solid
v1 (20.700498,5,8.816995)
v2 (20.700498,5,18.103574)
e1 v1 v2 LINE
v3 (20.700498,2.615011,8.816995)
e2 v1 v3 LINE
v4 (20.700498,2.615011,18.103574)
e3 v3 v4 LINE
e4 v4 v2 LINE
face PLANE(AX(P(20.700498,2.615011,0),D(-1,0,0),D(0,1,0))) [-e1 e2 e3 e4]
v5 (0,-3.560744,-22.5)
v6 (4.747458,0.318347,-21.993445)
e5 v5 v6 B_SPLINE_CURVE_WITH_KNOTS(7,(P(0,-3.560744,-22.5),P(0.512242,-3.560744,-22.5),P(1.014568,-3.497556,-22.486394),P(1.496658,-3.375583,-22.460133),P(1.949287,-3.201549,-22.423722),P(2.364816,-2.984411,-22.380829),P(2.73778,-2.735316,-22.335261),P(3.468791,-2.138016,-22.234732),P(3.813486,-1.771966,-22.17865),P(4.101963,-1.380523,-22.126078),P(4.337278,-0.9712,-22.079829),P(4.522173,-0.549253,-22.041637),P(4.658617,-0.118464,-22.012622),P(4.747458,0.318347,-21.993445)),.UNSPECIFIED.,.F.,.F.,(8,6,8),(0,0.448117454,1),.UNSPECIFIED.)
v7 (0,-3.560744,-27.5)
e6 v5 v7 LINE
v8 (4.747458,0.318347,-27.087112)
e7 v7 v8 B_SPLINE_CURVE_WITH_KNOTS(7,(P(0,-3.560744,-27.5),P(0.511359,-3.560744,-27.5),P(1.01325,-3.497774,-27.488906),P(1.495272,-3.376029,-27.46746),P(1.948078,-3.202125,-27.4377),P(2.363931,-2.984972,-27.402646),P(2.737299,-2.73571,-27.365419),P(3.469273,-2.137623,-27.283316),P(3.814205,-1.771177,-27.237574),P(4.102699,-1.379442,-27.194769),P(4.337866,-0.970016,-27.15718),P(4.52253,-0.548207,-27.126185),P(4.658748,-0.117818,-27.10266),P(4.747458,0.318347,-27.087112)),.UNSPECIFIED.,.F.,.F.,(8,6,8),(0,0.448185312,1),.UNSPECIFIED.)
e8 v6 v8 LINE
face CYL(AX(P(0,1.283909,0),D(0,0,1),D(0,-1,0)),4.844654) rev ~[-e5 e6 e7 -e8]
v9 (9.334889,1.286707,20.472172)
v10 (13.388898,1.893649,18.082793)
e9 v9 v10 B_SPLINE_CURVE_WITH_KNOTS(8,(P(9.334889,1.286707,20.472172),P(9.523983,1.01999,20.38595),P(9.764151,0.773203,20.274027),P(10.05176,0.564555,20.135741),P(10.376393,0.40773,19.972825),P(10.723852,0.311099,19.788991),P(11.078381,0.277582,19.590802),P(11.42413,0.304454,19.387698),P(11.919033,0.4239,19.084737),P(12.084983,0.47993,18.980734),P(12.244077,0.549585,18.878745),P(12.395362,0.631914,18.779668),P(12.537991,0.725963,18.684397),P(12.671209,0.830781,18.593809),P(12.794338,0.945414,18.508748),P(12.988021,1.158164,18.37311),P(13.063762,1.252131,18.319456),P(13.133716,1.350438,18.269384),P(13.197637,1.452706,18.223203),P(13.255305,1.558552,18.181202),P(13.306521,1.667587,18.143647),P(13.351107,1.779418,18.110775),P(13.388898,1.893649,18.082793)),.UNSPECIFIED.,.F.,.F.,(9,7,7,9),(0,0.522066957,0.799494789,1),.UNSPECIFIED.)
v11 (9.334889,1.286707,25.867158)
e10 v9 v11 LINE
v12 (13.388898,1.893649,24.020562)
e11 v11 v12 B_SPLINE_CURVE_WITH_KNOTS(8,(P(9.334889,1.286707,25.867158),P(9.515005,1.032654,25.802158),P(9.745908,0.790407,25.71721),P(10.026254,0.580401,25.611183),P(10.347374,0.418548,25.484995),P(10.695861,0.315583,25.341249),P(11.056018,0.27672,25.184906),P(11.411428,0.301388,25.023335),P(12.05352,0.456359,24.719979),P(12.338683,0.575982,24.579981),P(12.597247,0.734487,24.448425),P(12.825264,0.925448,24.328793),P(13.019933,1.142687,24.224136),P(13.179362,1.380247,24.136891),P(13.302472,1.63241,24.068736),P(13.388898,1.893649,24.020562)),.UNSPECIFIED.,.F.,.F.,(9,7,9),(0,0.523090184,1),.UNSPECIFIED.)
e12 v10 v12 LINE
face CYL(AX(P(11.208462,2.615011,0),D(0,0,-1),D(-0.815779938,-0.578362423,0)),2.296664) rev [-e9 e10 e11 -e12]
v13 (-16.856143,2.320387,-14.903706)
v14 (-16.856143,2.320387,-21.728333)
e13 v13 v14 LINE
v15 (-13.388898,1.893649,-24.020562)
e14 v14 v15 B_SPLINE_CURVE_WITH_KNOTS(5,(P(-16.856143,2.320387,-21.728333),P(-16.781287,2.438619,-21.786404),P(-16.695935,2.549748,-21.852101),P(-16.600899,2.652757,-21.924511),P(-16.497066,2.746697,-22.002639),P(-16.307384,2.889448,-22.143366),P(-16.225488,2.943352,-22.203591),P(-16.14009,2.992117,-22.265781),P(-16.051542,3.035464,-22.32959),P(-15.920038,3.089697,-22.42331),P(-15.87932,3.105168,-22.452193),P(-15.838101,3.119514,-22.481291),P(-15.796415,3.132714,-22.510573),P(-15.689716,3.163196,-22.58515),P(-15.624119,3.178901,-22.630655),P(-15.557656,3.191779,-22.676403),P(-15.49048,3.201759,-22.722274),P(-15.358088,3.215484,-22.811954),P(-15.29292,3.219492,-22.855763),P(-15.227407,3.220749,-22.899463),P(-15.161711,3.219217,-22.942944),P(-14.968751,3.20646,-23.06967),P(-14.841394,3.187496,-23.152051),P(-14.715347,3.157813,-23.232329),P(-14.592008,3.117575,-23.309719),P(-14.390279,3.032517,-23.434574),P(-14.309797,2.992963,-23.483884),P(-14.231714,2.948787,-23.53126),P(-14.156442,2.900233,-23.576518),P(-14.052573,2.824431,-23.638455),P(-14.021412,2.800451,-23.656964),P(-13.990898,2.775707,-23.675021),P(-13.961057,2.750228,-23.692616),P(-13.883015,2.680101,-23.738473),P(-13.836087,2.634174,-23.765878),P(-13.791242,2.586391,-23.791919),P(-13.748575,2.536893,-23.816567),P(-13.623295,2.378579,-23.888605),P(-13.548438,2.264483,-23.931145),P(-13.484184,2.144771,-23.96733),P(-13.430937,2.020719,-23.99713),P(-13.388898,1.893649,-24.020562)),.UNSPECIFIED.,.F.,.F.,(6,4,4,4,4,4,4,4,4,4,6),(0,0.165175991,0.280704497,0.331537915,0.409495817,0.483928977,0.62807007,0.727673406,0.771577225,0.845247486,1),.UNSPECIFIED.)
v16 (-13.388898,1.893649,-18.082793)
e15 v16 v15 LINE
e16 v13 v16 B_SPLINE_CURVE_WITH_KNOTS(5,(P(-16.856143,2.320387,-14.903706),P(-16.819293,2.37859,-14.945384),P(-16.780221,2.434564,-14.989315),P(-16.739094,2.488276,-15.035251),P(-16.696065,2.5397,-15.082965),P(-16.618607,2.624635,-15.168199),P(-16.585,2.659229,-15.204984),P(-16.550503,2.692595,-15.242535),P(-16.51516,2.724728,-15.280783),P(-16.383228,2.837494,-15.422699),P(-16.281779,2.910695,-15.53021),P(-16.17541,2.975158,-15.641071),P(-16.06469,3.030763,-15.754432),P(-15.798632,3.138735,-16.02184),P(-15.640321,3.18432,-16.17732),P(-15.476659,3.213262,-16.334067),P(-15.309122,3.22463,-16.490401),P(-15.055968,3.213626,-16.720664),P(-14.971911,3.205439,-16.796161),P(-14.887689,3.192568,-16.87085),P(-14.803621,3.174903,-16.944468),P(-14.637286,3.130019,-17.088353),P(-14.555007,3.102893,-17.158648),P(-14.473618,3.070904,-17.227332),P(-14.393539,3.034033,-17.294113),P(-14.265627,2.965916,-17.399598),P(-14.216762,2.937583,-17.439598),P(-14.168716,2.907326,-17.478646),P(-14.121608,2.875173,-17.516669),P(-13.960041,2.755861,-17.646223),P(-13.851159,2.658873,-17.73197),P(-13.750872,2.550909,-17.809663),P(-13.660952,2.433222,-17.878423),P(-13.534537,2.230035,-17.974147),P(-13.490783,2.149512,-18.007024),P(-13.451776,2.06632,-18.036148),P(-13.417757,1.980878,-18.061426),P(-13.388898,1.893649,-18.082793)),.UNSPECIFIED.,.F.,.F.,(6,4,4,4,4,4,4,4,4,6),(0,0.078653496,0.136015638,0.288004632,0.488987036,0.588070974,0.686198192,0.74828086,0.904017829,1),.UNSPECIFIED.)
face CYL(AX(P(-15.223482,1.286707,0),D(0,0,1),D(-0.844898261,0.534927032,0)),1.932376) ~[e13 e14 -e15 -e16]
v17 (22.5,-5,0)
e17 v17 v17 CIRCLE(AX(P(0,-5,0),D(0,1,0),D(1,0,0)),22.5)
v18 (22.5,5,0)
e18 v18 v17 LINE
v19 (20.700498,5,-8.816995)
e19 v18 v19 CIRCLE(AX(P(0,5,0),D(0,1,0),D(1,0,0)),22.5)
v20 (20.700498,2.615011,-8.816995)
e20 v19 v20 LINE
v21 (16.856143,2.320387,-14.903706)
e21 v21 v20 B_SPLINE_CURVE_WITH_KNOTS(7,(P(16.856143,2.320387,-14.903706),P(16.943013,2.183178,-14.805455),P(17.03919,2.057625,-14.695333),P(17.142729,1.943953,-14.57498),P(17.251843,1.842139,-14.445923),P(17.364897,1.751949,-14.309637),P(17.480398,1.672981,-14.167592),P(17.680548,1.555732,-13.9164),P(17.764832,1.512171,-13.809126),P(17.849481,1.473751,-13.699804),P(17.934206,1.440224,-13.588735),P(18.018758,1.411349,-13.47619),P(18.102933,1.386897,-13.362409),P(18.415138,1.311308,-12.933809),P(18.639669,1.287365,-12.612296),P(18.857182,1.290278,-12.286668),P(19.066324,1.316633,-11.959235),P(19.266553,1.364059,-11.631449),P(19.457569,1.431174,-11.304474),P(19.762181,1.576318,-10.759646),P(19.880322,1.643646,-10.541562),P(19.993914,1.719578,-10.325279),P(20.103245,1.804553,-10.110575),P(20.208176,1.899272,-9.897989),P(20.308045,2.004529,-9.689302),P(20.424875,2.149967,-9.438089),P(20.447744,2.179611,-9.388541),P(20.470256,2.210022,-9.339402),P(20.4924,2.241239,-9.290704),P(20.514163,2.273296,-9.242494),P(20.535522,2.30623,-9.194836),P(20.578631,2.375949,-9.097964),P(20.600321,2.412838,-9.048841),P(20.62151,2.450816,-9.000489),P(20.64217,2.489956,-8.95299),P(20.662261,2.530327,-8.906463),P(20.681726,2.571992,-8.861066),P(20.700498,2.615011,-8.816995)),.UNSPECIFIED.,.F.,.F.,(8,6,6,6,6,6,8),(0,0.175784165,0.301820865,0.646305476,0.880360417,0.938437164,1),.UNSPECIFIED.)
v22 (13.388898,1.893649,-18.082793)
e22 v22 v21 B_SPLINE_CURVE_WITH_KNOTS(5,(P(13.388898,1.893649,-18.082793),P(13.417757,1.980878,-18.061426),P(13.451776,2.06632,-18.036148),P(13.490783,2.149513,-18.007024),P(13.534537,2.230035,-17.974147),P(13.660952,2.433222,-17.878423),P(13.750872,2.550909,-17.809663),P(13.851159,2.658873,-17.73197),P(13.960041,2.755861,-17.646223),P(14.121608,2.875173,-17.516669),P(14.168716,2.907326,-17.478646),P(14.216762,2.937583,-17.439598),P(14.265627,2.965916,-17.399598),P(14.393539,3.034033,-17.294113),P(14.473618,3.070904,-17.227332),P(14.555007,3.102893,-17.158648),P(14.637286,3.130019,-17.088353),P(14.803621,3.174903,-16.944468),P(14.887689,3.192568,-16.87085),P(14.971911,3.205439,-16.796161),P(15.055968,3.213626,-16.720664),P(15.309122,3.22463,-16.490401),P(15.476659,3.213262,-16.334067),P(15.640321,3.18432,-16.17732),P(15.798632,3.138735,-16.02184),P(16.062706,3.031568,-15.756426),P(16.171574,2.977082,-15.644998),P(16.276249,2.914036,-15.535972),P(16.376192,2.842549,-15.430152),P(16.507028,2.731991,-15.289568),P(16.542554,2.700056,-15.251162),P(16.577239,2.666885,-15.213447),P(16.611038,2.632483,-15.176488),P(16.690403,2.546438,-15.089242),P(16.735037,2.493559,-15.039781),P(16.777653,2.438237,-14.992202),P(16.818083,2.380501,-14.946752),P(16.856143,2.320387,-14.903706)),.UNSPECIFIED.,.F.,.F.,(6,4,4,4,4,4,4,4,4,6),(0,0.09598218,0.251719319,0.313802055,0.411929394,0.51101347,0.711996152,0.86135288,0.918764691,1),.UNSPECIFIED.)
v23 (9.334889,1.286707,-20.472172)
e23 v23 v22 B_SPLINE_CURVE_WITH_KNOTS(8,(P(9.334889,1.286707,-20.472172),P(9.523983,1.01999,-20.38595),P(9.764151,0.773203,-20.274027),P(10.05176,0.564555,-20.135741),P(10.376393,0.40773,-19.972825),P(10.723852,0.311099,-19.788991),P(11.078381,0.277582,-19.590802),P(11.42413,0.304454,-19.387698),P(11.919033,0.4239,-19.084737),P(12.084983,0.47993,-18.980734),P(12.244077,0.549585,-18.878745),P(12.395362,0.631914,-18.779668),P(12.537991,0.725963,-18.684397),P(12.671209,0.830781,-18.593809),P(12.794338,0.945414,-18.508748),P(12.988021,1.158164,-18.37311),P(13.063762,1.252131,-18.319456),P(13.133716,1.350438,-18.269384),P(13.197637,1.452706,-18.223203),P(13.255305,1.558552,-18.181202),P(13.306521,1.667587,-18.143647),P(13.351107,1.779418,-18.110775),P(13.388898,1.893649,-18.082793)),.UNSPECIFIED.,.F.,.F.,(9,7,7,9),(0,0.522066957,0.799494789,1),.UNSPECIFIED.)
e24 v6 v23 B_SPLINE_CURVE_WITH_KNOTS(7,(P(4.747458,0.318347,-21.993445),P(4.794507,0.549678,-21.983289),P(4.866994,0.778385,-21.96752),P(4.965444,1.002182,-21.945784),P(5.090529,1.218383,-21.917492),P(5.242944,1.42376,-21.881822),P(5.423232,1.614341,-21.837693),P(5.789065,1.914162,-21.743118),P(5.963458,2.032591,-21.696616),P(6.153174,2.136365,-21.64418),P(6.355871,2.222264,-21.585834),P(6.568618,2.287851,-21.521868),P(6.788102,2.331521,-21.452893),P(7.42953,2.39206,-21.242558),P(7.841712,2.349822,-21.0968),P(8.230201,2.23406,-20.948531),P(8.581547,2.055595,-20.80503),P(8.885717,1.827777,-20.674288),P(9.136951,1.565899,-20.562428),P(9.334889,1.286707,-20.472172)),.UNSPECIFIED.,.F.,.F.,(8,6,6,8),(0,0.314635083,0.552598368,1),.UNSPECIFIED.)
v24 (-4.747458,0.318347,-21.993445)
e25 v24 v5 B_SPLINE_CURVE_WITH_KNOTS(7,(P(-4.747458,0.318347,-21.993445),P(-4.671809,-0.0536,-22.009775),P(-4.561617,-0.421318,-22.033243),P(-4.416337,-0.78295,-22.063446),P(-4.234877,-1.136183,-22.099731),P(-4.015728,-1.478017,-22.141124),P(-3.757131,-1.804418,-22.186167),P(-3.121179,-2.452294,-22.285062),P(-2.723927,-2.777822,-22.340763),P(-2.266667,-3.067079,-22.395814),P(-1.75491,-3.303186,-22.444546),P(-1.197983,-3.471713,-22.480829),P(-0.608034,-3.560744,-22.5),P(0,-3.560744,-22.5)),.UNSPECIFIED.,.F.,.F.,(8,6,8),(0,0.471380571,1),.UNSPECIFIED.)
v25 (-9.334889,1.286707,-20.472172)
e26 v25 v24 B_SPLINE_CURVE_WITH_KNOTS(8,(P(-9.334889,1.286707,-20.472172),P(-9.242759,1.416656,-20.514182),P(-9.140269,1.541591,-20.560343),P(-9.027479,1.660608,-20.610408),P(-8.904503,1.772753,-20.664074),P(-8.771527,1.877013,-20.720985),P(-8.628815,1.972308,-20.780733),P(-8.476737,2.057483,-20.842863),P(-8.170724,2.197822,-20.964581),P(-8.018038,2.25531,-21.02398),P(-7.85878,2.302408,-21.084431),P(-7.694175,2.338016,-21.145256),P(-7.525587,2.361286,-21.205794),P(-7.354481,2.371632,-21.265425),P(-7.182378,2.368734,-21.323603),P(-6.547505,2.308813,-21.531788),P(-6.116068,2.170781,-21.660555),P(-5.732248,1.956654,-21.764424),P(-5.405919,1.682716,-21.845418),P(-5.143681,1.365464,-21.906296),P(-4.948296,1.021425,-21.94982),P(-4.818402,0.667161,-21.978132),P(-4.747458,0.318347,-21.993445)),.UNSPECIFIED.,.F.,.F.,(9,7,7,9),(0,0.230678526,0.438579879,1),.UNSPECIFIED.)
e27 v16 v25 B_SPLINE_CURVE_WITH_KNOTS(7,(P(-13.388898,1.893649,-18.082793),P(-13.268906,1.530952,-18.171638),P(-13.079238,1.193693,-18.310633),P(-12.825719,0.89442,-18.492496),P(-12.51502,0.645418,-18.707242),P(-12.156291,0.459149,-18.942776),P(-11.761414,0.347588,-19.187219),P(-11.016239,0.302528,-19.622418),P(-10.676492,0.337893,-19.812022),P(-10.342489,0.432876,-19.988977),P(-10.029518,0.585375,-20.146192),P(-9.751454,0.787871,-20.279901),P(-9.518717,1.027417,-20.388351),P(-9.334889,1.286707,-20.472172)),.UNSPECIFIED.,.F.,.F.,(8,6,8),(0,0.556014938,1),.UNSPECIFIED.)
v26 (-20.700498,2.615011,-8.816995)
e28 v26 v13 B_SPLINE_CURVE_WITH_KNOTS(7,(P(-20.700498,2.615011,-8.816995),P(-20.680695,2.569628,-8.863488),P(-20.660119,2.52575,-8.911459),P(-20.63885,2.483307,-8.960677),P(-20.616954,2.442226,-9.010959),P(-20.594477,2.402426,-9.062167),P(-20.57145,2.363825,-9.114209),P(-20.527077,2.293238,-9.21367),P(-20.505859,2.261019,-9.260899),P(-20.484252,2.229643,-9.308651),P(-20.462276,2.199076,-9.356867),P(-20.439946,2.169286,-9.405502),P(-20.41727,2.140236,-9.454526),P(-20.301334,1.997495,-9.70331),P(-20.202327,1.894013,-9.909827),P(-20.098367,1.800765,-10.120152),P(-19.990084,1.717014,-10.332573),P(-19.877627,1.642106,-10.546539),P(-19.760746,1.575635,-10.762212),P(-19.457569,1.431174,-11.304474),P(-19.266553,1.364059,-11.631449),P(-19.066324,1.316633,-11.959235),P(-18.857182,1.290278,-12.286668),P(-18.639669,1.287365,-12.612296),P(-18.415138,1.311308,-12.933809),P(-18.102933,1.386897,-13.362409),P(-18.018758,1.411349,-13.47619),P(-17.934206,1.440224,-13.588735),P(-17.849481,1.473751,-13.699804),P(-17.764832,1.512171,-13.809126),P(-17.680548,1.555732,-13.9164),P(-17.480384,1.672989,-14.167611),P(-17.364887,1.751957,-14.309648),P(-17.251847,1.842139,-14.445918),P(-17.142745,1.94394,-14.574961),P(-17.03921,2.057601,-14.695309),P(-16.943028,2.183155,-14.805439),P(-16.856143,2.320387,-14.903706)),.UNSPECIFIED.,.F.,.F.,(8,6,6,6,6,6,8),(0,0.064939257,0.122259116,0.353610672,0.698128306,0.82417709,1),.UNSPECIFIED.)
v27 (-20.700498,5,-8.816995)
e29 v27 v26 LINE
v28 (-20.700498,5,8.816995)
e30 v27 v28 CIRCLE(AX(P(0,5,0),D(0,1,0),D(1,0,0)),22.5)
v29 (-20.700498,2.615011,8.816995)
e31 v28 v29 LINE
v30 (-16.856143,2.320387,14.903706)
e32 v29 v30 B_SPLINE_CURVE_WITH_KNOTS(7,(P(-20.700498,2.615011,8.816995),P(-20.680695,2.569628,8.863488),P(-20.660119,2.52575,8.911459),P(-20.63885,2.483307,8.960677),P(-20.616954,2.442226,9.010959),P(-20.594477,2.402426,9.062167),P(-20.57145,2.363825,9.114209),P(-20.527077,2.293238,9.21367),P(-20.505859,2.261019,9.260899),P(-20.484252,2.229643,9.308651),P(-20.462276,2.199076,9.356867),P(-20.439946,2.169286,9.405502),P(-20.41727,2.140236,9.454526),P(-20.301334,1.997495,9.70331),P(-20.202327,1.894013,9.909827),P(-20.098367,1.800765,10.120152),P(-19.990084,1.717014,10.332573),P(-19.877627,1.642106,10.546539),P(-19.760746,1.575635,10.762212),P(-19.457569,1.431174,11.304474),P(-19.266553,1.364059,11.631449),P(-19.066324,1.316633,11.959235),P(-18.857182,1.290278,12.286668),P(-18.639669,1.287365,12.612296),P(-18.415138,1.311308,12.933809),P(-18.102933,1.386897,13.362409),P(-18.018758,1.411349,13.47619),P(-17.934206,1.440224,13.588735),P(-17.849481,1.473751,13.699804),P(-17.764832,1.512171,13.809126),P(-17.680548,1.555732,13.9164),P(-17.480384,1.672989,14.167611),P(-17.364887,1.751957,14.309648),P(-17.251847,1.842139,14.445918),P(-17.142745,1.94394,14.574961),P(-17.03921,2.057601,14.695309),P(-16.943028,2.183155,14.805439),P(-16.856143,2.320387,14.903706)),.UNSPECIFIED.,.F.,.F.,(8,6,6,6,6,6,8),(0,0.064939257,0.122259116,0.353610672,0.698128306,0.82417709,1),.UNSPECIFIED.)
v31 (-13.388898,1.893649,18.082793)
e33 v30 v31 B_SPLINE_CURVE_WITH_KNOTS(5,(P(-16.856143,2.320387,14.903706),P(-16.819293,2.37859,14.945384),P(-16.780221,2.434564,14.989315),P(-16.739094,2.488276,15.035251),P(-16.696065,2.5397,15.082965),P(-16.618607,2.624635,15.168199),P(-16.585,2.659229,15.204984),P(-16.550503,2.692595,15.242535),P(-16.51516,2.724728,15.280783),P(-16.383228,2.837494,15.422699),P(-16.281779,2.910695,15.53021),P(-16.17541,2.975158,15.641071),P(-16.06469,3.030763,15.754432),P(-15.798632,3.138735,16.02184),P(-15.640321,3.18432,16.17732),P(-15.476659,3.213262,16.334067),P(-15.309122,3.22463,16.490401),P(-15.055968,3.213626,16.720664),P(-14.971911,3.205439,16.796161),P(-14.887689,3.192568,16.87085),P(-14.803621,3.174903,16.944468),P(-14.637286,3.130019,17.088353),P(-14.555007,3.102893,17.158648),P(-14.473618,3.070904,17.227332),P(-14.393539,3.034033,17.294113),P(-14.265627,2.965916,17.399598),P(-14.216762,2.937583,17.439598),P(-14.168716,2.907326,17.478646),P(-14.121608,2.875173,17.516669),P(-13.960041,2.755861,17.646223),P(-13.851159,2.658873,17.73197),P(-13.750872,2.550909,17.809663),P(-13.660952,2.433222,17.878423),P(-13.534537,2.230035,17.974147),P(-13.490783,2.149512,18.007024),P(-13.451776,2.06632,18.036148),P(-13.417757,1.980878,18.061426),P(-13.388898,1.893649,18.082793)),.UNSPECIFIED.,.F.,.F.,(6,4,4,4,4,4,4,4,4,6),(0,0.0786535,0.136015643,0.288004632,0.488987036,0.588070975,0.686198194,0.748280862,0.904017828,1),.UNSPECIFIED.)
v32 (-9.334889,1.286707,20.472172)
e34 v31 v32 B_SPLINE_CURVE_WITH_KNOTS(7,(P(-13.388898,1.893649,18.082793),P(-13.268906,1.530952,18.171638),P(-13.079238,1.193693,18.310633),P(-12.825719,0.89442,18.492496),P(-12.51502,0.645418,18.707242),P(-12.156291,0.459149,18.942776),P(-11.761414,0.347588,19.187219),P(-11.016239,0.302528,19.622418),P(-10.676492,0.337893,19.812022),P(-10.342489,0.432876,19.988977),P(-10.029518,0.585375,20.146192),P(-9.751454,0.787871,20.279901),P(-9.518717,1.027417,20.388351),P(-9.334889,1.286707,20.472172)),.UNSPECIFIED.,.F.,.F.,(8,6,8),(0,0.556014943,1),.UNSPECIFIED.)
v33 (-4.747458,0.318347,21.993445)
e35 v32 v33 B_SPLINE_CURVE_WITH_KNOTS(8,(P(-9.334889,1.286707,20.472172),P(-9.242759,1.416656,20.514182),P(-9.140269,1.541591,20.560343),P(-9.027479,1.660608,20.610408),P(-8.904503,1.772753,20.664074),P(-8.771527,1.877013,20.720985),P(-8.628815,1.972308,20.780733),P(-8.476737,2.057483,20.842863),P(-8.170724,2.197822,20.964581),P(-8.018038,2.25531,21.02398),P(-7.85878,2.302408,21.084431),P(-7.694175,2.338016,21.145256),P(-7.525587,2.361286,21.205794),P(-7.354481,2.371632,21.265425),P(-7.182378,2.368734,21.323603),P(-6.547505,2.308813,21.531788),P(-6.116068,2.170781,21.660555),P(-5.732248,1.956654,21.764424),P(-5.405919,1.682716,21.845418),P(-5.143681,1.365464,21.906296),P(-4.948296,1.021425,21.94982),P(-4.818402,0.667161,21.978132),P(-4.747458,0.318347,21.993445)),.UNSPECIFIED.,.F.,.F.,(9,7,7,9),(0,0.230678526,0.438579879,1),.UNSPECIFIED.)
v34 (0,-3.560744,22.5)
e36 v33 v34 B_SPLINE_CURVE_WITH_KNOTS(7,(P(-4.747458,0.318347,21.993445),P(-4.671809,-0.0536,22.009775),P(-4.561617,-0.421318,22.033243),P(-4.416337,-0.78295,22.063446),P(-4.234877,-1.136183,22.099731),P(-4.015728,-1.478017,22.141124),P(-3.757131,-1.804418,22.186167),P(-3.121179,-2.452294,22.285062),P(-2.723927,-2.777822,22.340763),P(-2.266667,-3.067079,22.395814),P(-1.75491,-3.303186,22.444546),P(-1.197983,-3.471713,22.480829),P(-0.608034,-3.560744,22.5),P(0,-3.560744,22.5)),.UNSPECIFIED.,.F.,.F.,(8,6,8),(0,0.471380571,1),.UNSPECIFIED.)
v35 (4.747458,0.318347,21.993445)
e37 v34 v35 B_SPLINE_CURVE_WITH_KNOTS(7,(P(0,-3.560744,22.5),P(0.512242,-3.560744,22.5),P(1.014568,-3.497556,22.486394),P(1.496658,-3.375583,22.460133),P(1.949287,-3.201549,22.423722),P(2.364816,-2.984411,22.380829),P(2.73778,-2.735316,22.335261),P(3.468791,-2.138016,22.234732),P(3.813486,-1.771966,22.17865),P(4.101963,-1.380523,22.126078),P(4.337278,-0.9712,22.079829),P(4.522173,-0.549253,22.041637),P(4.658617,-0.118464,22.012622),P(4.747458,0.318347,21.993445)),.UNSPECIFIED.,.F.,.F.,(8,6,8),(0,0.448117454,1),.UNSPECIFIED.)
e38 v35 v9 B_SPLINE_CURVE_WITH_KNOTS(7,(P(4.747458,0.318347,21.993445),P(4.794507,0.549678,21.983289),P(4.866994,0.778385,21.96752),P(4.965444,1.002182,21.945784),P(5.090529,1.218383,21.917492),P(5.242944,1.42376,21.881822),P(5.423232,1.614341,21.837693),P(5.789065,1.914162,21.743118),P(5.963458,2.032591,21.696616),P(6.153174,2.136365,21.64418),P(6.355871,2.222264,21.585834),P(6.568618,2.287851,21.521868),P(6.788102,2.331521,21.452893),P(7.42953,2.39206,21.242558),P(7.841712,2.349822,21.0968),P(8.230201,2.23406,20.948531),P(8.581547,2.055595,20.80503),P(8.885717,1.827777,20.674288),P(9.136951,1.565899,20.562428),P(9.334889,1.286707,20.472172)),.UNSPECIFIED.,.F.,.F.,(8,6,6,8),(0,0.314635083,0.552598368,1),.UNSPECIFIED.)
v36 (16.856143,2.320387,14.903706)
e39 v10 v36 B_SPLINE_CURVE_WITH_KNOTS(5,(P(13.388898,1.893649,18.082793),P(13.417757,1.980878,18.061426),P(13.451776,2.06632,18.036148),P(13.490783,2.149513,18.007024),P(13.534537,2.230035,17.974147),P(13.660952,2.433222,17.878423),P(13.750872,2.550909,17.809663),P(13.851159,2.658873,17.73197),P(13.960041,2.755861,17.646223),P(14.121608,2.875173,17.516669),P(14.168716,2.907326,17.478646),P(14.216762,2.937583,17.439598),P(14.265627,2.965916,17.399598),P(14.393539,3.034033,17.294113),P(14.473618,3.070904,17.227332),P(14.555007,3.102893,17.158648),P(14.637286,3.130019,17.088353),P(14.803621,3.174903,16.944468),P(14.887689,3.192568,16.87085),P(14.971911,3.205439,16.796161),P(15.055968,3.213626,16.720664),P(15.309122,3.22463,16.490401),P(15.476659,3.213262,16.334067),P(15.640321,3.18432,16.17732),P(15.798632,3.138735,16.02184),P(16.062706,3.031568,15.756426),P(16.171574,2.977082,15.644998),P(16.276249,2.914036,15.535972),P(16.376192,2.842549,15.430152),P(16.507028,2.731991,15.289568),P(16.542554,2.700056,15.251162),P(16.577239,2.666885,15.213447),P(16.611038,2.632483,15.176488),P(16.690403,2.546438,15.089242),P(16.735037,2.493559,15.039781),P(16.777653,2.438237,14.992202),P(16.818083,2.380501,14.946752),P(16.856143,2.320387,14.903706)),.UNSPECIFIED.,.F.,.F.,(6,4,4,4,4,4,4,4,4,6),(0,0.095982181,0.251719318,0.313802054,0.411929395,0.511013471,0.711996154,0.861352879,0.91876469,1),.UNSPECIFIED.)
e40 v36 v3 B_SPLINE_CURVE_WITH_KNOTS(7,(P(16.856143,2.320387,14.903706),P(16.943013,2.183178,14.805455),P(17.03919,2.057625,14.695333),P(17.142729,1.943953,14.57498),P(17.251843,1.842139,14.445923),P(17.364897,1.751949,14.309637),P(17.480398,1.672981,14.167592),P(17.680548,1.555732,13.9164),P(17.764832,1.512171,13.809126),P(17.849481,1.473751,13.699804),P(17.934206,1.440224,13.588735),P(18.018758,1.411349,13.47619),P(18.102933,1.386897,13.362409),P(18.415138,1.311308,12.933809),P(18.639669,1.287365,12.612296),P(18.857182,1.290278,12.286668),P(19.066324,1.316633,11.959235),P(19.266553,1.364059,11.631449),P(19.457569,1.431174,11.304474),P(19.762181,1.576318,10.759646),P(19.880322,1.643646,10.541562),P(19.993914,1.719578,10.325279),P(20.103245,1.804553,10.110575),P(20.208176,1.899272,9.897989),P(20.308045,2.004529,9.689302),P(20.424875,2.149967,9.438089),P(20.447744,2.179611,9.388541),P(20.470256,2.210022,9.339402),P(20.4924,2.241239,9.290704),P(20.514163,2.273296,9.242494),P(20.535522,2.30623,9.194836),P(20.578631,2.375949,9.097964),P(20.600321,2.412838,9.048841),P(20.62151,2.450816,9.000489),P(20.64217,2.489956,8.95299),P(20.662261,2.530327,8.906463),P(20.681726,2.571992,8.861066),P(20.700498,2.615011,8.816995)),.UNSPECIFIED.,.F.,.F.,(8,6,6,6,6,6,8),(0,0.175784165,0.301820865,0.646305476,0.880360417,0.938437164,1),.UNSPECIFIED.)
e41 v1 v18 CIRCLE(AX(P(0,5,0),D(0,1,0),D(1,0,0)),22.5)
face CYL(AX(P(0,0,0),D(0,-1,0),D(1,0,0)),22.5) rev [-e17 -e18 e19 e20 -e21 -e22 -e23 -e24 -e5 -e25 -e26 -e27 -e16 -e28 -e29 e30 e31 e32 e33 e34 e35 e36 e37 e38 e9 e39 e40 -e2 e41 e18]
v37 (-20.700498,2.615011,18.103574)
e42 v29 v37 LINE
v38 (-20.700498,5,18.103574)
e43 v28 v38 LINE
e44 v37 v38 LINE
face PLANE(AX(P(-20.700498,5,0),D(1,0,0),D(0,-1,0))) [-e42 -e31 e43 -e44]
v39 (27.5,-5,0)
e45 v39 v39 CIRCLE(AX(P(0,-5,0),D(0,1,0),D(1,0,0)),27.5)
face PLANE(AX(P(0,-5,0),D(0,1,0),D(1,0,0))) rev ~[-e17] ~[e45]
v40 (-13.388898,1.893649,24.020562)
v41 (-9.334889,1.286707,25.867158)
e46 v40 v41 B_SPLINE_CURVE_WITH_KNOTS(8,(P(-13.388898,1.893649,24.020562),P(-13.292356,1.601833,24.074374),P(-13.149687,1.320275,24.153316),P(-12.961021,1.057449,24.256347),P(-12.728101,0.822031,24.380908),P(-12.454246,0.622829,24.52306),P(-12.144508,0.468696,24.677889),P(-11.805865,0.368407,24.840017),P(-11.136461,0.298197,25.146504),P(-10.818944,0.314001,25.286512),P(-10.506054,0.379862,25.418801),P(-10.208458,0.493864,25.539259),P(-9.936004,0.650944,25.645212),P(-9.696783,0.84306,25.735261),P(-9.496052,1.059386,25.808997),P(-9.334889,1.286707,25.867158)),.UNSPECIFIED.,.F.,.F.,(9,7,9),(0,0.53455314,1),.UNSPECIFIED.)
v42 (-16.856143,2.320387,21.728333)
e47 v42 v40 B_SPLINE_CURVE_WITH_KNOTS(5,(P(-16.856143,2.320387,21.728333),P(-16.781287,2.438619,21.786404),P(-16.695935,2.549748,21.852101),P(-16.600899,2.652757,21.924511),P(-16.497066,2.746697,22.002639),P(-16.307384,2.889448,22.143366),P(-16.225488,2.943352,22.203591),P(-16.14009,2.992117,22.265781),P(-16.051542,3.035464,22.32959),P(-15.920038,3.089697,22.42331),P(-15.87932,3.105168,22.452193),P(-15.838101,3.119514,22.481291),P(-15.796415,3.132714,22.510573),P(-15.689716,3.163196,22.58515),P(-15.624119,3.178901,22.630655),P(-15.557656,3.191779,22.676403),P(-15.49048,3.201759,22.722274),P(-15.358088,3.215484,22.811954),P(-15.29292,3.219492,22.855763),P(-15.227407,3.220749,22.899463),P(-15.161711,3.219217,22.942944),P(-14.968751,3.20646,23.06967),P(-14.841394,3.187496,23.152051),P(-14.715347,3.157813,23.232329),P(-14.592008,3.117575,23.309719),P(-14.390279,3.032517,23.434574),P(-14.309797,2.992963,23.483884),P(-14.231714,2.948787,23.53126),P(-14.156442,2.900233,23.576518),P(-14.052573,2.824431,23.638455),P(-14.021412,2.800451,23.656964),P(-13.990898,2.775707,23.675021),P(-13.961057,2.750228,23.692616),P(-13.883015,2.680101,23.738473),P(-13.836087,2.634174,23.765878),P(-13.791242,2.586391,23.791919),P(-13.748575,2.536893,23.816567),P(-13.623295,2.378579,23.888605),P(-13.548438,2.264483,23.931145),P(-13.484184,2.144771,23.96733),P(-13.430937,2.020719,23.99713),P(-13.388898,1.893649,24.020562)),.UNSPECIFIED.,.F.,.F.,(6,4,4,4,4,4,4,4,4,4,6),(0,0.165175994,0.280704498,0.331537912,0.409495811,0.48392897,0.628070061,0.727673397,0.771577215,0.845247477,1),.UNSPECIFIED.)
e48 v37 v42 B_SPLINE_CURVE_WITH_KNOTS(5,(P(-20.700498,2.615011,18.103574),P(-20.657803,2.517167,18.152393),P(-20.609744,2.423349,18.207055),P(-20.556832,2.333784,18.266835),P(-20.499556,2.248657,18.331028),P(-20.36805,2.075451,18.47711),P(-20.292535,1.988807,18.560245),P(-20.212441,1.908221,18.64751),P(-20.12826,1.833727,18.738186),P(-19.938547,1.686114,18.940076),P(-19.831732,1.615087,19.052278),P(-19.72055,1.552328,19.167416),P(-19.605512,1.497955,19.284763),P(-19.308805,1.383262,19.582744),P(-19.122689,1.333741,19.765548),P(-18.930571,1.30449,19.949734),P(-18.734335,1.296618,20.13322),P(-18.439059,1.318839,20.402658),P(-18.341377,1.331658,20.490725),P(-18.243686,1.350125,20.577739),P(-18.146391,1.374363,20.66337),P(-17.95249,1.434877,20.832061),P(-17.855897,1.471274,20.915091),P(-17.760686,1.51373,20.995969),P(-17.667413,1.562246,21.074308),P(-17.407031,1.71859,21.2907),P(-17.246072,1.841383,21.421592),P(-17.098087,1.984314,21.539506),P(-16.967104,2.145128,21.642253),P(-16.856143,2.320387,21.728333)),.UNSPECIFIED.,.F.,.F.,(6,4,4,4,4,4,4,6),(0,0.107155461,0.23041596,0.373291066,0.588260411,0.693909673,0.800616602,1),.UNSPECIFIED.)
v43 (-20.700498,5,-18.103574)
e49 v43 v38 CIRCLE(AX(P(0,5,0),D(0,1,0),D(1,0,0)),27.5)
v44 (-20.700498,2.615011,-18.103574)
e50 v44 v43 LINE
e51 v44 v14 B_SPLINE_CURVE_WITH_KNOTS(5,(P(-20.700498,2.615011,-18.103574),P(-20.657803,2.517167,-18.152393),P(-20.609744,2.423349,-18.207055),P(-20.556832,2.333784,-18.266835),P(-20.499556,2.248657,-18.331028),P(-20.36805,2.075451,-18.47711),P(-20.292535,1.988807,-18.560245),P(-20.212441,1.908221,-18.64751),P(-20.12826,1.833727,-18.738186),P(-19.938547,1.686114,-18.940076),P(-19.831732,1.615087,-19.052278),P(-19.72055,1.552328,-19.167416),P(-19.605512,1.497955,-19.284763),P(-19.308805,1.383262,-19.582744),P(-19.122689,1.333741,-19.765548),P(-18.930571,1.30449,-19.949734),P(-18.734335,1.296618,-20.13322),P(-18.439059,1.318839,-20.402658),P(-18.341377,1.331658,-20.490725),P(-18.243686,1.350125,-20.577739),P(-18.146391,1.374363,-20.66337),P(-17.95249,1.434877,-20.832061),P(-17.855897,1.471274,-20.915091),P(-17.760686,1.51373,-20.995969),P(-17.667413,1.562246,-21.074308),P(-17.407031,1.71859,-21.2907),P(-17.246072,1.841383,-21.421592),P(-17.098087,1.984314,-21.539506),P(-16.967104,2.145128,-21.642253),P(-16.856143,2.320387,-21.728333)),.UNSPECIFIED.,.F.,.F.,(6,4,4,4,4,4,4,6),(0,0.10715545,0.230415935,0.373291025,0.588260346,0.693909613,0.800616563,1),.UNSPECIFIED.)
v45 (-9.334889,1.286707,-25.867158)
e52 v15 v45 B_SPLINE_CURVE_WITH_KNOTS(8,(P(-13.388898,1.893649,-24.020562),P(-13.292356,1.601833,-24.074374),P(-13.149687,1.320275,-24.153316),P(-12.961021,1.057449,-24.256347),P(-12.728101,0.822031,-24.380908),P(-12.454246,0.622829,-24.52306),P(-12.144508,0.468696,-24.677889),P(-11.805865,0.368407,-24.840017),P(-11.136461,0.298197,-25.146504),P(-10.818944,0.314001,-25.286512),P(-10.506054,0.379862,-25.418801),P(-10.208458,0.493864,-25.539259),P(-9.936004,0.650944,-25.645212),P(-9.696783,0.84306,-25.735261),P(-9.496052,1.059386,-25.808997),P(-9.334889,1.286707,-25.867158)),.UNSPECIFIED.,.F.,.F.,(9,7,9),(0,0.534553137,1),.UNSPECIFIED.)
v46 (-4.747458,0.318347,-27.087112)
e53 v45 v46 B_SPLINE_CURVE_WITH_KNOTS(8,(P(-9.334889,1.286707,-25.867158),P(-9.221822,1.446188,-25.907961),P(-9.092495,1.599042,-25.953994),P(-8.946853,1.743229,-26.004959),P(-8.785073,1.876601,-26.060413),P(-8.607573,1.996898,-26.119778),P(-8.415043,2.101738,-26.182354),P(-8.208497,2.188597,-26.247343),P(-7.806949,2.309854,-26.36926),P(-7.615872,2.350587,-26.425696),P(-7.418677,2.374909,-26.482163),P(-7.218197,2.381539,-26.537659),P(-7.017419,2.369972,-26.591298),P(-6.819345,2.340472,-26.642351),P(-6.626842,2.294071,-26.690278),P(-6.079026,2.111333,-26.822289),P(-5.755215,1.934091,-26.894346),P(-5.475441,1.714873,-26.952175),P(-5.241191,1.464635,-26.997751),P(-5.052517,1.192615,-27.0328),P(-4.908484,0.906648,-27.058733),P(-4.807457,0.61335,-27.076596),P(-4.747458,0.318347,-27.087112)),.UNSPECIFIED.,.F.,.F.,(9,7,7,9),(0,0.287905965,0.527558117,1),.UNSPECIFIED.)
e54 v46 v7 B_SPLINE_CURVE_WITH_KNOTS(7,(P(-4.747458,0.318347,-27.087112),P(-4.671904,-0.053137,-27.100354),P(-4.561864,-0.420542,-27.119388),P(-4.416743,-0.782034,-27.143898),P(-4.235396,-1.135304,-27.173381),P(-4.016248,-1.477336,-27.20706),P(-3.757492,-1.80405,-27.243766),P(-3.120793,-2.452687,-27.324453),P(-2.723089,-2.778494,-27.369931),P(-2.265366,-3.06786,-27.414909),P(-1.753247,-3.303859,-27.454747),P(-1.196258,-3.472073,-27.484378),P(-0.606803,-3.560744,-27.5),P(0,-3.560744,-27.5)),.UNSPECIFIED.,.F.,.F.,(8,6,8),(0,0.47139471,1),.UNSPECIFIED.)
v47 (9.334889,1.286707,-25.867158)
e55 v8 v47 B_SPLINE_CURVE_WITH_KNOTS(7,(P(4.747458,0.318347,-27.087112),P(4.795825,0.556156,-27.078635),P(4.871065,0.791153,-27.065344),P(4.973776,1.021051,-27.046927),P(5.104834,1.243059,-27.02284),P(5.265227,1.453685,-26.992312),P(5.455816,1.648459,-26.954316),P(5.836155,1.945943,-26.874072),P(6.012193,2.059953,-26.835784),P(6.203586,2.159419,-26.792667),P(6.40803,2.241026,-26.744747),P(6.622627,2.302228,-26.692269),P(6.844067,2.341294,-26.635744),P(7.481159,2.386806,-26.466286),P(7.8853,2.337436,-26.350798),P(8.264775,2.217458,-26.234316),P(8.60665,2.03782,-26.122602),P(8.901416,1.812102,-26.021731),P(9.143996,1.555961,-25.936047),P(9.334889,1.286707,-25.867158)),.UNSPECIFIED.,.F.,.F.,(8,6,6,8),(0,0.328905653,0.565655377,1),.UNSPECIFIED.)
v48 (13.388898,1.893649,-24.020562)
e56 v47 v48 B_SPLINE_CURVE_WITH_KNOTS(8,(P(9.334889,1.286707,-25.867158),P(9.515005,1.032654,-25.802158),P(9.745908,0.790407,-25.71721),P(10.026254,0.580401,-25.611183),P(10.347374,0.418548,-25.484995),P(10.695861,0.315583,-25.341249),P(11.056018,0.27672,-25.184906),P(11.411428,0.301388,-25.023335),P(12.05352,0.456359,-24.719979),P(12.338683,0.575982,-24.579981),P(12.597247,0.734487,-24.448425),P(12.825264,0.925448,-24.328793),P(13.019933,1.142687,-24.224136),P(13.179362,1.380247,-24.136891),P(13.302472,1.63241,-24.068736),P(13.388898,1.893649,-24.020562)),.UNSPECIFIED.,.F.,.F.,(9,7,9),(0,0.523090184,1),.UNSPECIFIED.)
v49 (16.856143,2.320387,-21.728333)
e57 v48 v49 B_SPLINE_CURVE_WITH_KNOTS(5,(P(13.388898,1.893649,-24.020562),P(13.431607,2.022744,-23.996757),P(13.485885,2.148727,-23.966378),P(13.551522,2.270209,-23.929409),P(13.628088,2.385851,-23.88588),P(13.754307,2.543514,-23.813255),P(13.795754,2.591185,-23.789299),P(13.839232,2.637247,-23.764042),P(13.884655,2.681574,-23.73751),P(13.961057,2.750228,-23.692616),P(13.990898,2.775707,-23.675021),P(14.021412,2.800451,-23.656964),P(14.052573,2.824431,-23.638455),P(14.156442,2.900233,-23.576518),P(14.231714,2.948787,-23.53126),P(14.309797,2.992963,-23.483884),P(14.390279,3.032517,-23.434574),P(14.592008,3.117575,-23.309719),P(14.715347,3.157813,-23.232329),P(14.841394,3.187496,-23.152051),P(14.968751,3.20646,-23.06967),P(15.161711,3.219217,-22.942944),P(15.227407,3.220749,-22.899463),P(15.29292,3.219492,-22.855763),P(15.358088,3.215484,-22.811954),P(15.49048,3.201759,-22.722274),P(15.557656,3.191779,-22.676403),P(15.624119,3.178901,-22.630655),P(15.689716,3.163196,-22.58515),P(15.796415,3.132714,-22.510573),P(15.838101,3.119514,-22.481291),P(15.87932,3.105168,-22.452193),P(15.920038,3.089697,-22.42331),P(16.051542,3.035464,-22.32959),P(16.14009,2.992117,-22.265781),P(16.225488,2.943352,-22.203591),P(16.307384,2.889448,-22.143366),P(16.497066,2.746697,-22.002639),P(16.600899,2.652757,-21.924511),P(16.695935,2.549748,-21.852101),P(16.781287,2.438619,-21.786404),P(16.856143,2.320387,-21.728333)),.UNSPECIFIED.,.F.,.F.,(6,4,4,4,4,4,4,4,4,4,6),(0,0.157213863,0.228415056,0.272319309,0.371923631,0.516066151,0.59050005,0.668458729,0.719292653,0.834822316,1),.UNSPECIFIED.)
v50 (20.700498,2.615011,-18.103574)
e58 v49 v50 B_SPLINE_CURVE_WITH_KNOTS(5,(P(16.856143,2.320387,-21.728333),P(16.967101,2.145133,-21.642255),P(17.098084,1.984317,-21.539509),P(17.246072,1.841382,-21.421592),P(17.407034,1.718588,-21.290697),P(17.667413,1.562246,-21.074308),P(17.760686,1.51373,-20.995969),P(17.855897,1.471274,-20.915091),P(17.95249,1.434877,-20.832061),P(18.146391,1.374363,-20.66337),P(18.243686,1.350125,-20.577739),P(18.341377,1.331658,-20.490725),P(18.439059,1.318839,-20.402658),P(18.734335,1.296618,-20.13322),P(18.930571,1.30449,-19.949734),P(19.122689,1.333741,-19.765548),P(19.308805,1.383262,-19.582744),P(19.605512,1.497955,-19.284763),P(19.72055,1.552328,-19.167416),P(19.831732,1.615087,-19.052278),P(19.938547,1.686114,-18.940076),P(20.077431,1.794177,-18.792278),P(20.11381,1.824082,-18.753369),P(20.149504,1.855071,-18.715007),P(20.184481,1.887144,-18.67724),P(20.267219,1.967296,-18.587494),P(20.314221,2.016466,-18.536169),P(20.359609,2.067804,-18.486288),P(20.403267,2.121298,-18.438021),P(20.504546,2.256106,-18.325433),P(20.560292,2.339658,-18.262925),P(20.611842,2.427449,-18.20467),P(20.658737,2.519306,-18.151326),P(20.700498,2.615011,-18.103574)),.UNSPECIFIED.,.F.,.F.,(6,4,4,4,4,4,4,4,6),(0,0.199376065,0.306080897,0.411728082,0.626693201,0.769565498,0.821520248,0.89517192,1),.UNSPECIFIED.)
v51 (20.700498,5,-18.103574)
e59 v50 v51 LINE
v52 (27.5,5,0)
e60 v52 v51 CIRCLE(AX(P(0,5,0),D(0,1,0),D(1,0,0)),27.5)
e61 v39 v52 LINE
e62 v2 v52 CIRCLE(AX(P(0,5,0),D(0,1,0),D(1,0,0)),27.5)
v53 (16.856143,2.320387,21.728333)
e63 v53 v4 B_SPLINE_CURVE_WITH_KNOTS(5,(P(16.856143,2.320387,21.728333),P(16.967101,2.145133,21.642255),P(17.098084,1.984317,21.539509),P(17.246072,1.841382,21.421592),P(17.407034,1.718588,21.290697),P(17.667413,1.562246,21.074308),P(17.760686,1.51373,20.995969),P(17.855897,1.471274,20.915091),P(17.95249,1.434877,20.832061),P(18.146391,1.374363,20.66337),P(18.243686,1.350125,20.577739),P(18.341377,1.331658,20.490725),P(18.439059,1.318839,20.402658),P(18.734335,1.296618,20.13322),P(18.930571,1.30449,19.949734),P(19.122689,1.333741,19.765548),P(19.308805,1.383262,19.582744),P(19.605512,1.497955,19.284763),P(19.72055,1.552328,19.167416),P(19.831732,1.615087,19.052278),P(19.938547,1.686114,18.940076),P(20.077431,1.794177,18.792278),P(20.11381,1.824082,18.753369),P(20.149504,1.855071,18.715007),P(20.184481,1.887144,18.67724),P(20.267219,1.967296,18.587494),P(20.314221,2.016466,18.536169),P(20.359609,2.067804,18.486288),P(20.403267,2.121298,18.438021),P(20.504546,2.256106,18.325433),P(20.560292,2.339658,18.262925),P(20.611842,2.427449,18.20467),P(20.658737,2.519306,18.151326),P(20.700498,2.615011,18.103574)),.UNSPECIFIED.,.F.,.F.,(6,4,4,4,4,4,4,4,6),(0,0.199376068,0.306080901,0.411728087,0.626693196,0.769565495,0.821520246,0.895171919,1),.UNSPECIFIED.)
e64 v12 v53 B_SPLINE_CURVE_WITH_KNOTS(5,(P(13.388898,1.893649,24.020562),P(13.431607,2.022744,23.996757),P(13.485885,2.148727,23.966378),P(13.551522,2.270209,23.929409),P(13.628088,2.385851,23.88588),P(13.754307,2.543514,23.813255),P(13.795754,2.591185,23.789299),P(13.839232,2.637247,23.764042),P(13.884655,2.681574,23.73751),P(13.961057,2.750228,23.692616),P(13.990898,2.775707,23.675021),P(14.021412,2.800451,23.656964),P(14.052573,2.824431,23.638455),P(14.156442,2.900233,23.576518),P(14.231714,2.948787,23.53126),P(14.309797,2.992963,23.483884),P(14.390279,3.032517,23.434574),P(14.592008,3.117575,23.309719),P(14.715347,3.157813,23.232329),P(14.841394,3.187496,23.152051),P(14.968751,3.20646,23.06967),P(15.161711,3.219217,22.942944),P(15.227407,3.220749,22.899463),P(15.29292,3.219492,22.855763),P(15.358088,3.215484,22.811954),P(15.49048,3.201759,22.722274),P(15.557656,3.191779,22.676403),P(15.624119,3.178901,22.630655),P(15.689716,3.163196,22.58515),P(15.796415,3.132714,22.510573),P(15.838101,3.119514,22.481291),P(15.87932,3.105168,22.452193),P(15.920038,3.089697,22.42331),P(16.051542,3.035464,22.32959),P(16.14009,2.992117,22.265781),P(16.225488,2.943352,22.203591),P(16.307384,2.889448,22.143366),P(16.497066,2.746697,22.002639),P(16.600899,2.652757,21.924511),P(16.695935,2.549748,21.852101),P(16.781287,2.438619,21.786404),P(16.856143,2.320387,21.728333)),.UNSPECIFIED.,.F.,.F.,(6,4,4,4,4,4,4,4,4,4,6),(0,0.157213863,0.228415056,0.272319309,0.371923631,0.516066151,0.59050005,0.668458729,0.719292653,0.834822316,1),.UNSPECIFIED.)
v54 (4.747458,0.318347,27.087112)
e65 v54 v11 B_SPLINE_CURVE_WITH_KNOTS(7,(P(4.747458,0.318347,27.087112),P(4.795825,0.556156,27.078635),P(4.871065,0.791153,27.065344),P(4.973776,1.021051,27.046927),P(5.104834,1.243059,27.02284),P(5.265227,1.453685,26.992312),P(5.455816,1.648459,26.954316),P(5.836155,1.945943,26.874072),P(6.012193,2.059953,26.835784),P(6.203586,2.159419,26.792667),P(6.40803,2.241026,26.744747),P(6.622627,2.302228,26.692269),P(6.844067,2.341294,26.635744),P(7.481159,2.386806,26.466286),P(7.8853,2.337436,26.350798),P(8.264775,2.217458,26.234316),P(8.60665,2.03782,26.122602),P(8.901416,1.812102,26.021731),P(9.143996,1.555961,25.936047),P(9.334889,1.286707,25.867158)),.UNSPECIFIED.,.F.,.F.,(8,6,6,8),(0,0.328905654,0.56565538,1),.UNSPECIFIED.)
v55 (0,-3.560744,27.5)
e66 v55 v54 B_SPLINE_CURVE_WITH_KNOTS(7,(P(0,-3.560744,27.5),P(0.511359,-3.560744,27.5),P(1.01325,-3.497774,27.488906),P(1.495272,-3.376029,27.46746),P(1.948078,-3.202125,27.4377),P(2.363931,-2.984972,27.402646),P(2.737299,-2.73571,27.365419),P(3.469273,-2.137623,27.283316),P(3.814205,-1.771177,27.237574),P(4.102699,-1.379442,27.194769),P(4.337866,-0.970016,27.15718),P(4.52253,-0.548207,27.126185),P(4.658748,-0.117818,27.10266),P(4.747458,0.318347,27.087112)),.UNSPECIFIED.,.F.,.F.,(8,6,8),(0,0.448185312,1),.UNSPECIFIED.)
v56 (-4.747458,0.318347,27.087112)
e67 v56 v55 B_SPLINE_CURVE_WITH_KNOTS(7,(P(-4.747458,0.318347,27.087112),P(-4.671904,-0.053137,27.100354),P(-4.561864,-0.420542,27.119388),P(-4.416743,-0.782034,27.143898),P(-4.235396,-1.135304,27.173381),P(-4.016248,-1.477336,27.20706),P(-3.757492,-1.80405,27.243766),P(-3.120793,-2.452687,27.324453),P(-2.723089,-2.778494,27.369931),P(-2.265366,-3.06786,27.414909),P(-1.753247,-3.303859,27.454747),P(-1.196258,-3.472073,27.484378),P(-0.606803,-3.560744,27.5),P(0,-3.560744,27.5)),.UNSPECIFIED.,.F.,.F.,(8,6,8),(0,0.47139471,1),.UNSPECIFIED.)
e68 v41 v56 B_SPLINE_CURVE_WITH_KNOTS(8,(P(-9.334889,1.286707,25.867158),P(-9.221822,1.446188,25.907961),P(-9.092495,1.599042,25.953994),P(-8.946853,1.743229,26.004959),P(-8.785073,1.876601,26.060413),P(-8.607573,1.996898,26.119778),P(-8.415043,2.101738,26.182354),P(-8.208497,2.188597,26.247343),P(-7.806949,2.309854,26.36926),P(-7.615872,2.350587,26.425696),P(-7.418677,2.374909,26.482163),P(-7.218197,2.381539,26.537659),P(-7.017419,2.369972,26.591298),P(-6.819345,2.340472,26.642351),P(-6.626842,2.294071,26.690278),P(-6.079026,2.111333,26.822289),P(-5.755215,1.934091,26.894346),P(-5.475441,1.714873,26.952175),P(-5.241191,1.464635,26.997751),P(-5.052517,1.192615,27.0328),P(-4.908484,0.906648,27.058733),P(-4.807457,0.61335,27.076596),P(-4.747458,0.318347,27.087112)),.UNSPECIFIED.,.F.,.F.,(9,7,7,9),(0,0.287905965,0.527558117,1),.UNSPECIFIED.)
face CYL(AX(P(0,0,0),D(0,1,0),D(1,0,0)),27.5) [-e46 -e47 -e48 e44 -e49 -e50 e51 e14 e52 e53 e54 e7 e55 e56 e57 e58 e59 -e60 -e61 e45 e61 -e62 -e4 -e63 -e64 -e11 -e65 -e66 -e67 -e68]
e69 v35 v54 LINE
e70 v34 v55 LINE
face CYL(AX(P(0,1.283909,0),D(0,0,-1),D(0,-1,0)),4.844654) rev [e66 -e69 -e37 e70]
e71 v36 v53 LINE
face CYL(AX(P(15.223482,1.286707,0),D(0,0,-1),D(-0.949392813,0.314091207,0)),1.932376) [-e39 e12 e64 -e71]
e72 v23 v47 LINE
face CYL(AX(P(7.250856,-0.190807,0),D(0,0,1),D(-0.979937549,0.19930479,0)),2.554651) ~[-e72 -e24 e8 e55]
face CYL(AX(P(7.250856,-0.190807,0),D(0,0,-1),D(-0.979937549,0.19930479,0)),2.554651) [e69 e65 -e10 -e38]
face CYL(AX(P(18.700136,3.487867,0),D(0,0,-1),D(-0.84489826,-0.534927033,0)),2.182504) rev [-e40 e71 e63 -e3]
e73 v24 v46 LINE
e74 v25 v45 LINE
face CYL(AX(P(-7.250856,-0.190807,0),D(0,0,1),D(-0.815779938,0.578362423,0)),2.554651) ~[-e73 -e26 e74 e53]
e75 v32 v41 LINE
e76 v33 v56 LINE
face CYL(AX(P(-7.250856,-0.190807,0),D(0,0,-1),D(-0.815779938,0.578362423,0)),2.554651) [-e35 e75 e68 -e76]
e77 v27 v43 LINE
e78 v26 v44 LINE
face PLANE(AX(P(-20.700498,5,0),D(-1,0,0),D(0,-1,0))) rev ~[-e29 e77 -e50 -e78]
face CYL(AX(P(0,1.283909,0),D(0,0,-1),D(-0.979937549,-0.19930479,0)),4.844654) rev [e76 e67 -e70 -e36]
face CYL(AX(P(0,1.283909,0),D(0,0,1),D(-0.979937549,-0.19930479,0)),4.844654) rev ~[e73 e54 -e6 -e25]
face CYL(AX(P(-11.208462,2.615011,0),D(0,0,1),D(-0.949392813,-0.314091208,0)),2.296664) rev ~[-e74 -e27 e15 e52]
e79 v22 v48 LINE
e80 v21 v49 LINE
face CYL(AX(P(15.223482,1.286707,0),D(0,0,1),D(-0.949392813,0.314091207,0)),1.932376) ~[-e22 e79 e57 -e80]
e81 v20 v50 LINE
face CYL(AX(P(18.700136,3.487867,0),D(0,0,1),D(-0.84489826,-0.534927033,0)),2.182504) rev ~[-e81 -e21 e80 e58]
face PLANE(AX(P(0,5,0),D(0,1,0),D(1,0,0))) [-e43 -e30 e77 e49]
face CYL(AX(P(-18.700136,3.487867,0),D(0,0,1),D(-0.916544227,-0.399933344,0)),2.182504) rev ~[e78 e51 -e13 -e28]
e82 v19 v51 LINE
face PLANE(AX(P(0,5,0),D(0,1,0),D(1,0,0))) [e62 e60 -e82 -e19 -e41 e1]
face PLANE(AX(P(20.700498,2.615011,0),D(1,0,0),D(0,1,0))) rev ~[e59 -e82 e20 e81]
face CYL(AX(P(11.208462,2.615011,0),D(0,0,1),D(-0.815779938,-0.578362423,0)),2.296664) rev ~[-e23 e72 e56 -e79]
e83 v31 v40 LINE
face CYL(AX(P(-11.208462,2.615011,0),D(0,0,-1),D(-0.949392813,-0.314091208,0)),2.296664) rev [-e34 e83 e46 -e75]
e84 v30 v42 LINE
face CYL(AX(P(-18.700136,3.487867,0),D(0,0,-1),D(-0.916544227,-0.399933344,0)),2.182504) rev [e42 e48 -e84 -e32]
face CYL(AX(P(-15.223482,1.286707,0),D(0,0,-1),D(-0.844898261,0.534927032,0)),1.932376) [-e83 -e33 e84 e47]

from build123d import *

# Parameters (mm, degrees)
SKETCH1_R               = 27.5
SKETCH1_R_2             = 22.5
BOSS_EXTRUDE1_DEPTH     = 5
CUT_EXTRUDE3_DEPTH      = 28.5
CUT_EXTRUDE3_DEPTH_BACK = 28.5


with BuildPart() as part:
    # Sketch1 → Boss-Extrude1 (new body, symmetric)
    with BuildSketch(Plane(origin=(0, 0, 0), x_dir=(1, 0, 0), z_dir=(0, 1, 0))):
        Circle(SKETCH1_R)
        Circle(SKETCH1_R_2, mode=Mode.SUBTRACT)
    extrude(amount=BOSS_EXTRUDE1_DEPTH, both=True)

    # Sketch3 → Cut-Extrude3 (cut, two sides)
    with BuildSketch(Plane.XY) as cut_extrude3_sk:
        with BuildLine():
            ThreePointArc((-4.74745791, 0.318346798), (-3.065358978, -2.467655845), (0, -3.56074408))
            Line((0, -3.56074408), (0, 5))
            Line((0, 5), (-20.700497525, 5))
            Line((-20.700497525, 5), (-20.700497525, 2.615010963))
            ThreePointArc((-20.700497525, 2.615010963), (-18.866910307, 1.311744504), (-16.85614269, 2.320386731))
            ThreePointArc((-16.85614269, 2.320386731), (-14.987432042, 3.204610911), (-13.38889815, 1.893648941))
            ThreePointArc((-13.38889815, 1.893648941), (-11.548514755, 0.343661099), (-9.334889148, 1.286706711))
            ThreePointArc((-9.334889148, 1.286706711), (-6.723222767, 2.308761406), (-4.74745791, 0.318346798))
        make_face()
        with BuildLine():
            Line((0, 5), (0, -3.56074408))
            ThreePointArc((0, -3.56074408), (3.065358978, -2.467655845), (4.74745791, 0.318346798))
            ThreePointArc((4.74745791, 0.318346798), (6.723222767, 2.308761406), (9.334889148, 1.286706711))
            ThreePointArc((9.334889148, 1.286706711), (11.548514755, 0.343661099), (13.38889815, 1.893648941))
            ThreePointArc((13.38889815, 1.893648941), (14.987432042, 3.204610911), (16.85614269, 2.320386731))
            ThreePointArc((16.85614269, 2.320386731), (18.866910307, 1.311744504), (20.700497525, 2.615010963))
            Line((20.700497525, 2.615010963), (20.700497525, 5))
            Line((20.700497525, 5), (0, 5))
        make_face()
    extrude(amount=CUT_EXTRUDE3_DEPTH, mode=Mode.SUBTRACT)
    extrude(cut_extrude3_sk.sketch, amount=-CUT_EXTRUDE3_DEPTH_BACK, mode=Mode.SUBTRACT)


solid = part.part
